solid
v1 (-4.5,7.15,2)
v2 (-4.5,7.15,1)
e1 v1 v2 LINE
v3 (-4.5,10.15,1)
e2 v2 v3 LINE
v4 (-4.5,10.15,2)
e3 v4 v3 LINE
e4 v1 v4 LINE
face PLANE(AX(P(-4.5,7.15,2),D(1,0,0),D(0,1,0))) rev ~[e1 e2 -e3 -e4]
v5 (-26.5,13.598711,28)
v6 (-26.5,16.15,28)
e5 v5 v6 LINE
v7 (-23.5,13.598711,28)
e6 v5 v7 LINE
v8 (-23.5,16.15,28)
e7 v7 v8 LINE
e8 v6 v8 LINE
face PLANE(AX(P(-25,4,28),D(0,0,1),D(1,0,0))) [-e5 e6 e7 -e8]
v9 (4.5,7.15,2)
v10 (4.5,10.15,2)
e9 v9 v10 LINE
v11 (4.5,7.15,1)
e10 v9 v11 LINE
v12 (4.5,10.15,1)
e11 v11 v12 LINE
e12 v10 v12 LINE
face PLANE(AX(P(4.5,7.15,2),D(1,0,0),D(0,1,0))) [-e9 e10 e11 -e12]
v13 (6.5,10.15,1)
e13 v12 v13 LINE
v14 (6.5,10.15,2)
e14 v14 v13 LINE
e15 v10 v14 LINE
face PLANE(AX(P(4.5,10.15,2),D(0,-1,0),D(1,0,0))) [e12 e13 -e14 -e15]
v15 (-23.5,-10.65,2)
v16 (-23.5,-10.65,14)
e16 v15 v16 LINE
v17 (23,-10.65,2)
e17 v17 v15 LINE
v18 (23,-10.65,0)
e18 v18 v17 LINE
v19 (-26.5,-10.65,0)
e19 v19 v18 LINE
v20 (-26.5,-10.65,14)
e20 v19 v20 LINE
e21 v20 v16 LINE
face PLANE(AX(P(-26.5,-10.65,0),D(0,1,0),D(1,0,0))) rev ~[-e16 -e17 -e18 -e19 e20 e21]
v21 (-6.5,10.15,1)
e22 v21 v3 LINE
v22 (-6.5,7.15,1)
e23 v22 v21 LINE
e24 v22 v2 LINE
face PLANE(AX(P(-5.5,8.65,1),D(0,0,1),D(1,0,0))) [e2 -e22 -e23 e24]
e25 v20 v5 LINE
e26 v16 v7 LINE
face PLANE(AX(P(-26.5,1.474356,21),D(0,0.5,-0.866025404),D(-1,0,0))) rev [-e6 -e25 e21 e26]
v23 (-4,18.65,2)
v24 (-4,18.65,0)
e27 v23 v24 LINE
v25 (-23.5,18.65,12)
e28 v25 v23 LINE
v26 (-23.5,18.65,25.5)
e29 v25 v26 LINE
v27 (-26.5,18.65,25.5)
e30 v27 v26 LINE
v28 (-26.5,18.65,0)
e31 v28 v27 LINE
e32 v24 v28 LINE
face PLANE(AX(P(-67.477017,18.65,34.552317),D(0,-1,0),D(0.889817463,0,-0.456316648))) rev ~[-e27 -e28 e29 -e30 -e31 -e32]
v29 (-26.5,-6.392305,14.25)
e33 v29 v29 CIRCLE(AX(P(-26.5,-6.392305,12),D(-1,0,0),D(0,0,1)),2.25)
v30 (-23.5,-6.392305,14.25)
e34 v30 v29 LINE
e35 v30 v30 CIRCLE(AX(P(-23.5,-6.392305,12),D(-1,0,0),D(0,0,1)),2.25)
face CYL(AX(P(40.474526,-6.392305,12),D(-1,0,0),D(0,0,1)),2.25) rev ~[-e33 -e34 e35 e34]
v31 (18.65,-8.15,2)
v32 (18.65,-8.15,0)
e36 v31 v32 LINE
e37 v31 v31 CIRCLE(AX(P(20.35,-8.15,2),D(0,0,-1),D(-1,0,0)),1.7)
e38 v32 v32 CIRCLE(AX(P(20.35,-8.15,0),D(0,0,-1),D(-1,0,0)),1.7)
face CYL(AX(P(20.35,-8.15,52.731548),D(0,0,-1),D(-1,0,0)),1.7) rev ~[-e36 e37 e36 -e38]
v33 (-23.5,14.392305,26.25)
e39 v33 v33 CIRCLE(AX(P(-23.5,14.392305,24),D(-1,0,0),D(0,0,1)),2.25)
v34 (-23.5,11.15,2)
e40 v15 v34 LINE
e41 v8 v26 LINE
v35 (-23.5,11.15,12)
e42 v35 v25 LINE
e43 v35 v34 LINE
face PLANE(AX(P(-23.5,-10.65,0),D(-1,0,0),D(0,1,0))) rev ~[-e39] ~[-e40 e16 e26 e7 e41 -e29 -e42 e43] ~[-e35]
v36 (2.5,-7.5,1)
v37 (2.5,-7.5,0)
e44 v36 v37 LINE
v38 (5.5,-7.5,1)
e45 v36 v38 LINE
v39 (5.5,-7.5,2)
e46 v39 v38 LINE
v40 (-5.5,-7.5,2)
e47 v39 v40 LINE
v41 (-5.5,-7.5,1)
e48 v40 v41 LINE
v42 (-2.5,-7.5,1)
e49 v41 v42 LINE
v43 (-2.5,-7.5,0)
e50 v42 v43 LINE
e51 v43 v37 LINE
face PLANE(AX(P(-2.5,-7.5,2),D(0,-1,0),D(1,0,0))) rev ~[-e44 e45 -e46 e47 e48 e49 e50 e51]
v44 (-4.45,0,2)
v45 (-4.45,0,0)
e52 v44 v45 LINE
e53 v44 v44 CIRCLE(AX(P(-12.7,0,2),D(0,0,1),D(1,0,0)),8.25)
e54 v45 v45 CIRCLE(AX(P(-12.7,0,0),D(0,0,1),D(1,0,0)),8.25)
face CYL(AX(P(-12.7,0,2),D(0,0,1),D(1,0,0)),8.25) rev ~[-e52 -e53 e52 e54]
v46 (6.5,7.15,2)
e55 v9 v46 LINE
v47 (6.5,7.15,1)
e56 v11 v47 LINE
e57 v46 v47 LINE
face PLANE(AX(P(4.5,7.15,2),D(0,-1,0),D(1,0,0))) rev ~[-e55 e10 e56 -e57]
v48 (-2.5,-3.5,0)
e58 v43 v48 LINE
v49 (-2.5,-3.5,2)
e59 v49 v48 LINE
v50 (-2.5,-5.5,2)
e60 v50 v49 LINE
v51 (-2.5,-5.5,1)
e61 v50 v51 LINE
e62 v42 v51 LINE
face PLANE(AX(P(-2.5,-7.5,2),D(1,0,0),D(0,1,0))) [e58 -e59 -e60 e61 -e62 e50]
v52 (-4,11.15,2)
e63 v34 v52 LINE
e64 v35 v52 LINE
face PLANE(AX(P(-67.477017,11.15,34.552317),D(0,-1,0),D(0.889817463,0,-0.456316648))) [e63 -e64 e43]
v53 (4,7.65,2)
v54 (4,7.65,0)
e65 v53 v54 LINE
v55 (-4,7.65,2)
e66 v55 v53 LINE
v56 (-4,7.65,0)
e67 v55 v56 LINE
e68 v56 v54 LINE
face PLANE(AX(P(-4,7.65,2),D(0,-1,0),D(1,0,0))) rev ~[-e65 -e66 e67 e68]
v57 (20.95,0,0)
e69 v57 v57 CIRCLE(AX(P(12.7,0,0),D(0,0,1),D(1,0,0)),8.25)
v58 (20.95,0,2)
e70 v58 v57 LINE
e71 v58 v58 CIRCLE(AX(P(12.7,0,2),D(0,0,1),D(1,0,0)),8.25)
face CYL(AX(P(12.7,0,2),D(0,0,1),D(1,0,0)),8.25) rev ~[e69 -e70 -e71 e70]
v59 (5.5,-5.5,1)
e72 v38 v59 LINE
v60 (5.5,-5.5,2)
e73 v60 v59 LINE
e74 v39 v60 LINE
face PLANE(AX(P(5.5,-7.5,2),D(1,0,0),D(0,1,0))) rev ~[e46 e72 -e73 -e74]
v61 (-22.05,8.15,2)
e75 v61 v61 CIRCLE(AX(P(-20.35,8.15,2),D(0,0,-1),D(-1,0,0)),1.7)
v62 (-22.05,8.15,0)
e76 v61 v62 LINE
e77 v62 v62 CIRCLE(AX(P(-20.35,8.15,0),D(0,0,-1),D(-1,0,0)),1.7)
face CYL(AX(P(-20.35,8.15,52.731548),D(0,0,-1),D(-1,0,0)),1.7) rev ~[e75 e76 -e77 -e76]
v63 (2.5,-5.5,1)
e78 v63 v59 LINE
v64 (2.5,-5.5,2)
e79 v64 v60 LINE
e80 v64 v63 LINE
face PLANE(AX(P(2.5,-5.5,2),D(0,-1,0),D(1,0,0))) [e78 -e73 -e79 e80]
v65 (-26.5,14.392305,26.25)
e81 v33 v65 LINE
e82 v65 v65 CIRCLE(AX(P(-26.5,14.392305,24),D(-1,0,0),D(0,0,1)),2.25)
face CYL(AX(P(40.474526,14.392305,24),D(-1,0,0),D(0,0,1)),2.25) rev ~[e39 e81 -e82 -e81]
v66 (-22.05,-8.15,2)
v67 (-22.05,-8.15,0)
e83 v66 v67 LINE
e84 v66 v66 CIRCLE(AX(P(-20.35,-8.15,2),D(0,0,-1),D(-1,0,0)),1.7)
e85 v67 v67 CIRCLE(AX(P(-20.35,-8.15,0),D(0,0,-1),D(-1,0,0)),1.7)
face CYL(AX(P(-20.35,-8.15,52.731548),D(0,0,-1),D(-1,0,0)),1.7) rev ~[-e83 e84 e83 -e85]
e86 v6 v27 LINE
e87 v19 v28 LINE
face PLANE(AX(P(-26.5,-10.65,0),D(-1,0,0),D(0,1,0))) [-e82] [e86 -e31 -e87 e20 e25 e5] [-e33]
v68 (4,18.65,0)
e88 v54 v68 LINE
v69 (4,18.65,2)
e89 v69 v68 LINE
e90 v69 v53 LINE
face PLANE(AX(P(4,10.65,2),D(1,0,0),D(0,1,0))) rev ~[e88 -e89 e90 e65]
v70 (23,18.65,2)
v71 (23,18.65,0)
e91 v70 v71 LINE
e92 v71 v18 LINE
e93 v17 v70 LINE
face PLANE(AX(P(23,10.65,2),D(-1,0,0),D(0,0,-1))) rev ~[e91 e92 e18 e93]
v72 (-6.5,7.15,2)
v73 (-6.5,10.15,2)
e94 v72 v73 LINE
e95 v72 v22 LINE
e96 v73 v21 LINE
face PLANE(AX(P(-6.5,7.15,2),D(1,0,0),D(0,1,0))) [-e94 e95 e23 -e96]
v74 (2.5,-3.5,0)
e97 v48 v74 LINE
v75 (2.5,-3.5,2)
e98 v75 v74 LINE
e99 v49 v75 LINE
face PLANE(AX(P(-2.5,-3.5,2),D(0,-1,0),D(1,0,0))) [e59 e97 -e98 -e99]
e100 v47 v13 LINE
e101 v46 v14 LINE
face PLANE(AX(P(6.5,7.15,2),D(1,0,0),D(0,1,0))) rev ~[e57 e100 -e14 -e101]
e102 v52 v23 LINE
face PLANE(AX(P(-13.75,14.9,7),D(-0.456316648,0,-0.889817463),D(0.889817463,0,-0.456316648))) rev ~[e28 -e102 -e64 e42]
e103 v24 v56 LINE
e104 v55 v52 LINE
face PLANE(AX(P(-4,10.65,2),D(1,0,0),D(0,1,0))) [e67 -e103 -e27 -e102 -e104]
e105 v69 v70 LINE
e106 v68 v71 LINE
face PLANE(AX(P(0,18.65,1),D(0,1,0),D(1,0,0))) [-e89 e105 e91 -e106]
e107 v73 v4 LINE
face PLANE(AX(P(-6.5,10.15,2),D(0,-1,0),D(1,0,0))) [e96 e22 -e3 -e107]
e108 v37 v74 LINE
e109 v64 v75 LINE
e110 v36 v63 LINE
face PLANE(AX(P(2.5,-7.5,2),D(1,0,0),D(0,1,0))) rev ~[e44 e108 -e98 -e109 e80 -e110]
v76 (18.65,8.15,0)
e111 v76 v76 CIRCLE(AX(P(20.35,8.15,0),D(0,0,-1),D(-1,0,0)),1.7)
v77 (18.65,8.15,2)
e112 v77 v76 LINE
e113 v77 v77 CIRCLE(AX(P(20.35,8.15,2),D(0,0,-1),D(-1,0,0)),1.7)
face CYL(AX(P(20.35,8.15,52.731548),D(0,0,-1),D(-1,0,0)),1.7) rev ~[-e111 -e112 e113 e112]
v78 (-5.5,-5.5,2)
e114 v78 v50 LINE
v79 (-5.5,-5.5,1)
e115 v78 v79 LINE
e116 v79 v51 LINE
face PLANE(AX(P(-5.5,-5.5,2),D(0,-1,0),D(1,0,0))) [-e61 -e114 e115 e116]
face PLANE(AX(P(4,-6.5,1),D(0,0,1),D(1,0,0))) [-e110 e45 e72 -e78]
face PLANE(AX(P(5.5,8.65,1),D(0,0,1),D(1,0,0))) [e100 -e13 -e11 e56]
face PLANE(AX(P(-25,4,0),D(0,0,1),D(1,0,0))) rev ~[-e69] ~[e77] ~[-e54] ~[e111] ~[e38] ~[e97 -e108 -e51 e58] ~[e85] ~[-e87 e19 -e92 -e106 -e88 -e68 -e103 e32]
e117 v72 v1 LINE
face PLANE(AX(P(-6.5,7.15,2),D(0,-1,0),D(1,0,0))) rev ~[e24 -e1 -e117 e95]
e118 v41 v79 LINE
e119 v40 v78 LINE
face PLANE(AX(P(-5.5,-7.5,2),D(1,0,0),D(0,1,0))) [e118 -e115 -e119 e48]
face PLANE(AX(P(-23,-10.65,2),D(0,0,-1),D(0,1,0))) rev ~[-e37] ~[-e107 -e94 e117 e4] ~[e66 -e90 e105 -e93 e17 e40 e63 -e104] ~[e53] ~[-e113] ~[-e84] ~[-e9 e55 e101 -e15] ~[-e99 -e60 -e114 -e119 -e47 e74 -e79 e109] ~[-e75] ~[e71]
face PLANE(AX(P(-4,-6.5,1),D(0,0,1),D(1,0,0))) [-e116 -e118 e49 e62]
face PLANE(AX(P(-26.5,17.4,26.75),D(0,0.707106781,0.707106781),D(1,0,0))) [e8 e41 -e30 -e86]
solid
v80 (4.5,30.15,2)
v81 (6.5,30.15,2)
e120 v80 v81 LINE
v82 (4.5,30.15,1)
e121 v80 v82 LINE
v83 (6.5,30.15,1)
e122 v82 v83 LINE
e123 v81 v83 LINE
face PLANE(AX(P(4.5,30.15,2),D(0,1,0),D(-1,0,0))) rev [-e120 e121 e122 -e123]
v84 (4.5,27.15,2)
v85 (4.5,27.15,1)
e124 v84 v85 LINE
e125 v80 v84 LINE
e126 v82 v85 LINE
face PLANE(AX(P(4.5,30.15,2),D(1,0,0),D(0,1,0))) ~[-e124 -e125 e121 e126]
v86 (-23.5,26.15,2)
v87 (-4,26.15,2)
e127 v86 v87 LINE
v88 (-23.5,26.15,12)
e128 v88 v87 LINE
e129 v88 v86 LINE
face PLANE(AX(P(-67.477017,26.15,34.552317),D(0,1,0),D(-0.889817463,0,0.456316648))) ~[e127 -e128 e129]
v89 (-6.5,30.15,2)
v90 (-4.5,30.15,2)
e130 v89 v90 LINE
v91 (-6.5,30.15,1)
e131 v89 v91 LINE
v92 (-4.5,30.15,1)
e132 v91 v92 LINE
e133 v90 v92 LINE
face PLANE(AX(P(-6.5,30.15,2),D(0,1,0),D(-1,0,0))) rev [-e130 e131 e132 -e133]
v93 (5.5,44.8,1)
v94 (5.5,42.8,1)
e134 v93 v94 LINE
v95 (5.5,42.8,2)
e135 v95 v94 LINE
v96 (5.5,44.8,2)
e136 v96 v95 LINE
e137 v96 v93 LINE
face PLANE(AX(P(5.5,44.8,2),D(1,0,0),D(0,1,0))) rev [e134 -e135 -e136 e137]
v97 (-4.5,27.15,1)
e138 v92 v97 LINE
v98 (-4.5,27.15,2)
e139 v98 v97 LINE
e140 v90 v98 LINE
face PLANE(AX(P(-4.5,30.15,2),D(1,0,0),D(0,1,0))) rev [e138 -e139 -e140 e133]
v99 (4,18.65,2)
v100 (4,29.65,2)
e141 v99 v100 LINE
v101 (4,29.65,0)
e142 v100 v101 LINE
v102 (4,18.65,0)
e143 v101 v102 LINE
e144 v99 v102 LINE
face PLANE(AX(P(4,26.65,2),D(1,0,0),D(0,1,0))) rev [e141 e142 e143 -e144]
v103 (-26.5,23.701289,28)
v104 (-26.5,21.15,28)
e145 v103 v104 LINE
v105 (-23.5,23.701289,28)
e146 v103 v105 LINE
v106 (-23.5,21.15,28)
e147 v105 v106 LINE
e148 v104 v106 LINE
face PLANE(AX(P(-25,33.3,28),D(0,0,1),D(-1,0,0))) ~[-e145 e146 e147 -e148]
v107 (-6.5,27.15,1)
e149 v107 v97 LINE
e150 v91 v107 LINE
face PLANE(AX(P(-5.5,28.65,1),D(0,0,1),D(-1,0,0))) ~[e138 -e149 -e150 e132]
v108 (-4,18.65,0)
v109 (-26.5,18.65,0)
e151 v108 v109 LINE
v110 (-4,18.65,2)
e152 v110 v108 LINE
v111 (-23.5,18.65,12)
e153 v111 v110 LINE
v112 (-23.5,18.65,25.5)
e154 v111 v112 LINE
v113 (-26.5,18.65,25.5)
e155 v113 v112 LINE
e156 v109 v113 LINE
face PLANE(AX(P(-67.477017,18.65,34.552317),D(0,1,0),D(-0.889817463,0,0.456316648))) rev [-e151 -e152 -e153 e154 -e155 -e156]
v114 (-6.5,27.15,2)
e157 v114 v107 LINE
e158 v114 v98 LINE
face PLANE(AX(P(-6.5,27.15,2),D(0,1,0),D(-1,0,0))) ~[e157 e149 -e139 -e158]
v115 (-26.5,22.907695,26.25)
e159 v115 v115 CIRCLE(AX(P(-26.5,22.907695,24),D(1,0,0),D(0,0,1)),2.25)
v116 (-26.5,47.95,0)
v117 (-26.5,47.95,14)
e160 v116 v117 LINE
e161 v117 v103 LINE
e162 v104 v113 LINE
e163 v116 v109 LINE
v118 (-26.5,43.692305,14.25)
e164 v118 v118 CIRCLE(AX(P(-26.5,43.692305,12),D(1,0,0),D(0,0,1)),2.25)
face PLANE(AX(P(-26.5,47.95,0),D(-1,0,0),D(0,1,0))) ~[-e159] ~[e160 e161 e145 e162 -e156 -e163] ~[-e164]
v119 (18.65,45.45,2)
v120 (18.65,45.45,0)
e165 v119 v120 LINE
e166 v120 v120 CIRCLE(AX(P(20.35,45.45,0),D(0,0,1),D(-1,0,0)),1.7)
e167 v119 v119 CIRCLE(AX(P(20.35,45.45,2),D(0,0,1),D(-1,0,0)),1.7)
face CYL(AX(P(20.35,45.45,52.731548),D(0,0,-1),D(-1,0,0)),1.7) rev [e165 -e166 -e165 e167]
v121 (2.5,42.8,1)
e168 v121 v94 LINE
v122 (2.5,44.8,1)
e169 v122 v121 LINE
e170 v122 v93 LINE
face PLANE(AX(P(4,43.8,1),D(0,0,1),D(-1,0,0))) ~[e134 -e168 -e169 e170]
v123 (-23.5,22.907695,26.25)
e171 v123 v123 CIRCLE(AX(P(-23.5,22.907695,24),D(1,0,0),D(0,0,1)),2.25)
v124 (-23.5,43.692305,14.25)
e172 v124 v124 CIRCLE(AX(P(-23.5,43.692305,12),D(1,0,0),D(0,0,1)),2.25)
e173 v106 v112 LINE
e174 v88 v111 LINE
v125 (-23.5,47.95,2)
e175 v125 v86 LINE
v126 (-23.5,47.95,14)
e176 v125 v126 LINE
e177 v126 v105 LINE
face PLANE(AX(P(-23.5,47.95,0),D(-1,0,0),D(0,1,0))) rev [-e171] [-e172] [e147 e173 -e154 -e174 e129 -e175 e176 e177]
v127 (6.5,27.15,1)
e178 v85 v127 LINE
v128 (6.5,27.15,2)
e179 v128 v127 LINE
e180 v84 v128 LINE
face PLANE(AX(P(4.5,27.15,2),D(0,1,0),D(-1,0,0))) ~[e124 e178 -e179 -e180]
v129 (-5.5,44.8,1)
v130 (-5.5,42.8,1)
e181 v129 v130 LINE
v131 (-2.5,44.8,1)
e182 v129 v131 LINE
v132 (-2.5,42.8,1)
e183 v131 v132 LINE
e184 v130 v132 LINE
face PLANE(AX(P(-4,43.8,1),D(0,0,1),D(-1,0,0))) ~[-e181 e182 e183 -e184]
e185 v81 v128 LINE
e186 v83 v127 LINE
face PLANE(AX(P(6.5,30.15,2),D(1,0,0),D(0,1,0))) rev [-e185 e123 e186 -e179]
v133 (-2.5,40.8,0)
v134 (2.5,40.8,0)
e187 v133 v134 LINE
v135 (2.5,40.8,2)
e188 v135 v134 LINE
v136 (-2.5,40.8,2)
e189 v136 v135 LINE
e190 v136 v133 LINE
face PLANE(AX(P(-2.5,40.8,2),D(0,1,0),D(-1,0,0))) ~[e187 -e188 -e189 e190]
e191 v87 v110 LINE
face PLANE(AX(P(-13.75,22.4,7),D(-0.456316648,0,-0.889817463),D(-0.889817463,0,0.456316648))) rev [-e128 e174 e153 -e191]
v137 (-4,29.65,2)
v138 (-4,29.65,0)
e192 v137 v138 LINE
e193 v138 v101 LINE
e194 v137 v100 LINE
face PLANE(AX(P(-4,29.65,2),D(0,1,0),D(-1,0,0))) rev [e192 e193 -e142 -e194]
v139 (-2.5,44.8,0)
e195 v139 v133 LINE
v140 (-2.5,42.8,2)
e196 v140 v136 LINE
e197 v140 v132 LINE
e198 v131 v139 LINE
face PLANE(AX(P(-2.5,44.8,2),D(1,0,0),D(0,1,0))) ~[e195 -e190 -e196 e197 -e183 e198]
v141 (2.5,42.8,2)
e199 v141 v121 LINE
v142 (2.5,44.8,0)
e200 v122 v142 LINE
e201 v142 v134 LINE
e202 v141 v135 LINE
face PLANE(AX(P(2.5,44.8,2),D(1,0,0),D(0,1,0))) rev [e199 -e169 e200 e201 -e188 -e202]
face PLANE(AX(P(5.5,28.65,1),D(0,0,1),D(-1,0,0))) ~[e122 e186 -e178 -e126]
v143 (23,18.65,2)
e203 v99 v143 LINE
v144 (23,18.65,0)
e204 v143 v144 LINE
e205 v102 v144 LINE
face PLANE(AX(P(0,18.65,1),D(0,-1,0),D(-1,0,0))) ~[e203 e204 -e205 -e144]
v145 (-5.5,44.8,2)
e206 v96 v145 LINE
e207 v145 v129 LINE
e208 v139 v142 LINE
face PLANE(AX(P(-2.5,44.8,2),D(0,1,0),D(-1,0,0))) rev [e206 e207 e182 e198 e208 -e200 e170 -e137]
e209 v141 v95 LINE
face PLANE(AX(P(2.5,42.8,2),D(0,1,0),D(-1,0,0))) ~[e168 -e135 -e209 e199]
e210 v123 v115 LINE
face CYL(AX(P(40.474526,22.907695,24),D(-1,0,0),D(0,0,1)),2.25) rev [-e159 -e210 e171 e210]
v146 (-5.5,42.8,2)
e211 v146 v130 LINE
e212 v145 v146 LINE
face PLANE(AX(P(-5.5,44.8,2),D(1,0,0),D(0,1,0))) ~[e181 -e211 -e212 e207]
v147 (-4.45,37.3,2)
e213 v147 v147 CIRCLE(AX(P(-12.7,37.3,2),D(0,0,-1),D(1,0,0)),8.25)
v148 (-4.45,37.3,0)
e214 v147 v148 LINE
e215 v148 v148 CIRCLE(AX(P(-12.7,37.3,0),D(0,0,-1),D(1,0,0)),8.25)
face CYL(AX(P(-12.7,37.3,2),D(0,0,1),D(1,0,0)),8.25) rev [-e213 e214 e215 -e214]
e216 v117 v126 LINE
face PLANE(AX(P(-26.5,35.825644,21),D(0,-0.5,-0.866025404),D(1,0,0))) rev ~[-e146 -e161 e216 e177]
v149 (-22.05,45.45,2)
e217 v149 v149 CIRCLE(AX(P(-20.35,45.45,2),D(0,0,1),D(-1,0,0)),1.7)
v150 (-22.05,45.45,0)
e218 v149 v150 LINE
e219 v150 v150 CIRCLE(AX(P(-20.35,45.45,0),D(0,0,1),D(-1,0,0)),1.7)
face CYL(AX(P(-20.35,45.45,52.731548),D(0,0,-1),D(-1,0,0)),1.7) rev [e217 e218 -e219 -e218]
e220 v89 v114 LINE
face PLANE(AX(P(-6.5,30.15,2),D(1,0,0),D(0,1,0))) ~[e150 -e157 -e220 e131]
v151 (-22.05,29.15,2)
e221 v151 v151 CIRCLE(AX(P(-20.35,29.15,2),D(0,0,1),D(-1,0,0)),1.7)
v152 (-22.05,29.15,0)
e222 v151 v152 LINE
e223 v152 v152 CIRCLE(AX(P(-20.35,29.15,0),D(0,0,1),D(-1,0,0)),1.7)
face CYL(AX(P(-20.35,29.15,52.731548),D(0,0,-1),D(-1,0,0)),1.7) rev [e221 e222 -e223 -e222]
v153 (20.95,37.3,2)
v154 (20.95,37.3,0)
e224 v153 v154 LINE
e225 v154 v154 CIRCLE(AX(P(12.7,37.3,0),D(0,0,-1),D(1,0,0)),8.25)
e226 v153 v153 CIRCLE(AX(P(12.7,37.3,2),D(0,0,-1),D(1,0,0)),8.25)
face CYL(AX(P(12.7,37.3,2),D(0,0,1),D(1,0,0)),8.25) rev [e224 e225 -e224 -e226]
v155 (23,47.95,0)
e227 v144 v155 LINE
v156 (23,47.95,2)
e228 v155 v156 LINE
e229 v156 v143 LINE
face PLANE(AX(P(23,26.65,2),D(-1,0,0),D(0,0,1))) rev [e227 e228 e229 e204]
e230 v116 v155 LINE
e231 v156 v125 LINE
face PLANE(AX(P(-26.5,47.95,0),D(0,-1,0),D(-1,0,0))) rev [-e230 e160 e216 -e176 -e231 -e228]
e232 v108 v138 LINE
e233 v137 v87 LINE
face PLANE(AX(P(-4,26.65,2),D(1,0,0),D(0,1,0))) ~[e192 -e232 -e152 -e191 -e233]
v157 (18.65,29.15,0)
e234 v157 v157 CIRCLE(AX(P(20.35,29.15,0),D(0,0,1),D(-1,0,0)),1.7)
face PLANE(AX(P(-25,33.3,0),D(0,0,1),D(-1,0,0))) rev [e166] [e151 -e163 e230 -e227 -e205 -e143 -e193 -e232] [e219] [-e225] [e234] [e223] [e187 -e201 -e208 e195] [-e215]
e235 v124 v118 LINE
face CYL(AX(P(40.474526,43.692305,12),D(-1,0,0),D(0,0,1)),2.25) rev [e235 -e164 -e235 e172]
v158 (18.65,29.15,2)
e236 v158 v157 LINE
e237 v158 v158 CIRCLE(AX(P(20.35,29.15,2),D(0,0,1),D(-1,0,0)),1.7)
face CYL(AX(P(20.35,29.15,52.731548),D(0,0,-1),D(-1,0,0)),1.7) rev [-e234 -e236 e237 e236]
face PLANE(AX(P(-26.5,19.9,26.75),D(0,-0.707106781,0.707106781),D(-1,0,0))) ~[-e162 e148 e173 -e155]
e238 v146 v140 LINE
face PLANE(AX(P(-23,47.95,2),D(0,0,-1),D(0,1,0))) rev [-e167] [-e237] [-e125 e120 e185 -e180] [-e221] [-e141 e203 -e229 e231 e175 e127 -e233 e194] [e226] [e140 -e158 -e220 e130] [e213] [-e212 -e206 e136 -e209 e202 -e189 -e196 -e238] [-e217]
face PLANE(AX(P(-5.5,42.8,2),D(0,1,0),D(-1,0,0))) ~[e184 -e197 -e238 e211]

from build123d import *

# Parameters (mm, degrees)
SKETCH_1_W          = 46
SKETCH_1_H          = 21.3
EXTRUDE_1_DEPTH     = 2
SKETCH_2_R          = 8.25
CUT_EXTRUDE_1_DEPTH = 26.424840216
SKETCH_3_W          = 8
SKETCH_3_H          = 3
CUT_EXTRUDE_2_DEPTH = 26.424840216
SKETCH_4_W          = 5
SKETCH_4_H          = 4
CUT_EXTRUDE_3_DEPTH = 26.424840216
SKETCH_5_W          = 3
SKETCH_5_H          = 2
SKETCH_5_W_2        = 2
SKETCH_5_H_2        = 3
CUT_EXTRUDE_4_DEPTH = 1
HOLE_WIZARD_M3_1_D  = 3.4
SKETCH_9_W          = 46
SKETCH_9_H          = 2
EXTRUDE_3_DEPTH     = 8
SKETCH_10_W         = 8
SKETCH_10_H         = 8
CUT_EXTRUDE_5_DEPTH = 30.678653945
SKETCH_11_W         = 2
SKETCH_11_H         = 29.3
EXTRUDE_4_DEPTH     = 0.5
SKETCH_12_W         = 3
SKETCH_12_H         = 29.3
EXTRUDE_5_DEPTH     = 28
HOLE_WIZARD_M4_1_D  = 4.5
CHAMFER_1_SIZE      = 14
CHAMFER_1_SIZE2     = 24.248711306
CHAMFER_2_SIZE      = 2.5
RIB_1_REACH         = 50.423
SKETCH_16_WALL_W    = 120.75963785
SKETCH_16_WALL_H    = 7.5


with BuildPart() as part:
    # 草圖1 → 填料-伸長1 (new body)
    with BuildSketch(Plane.XY):
        Rectangle(SKETCH_1_W, SKETCH_1_H)
    extrude(amount=EXTRUDE_1_DEPTH)

    # 草圖2 → 除料-伸長1 (cut, through all)
    with BuildSketch(Plane.XY.offset(2)):
        with Locations((-12.7, 0)):
            Circle(SKETCH_2_R)
        with Locations((12.7, 0)):
            Circle(SKETCH_2_R)
    extrude(amount=-CUT_EXTRUDE_1_DEPTH, mode=Mode.SUBTRACT)

    # 草圖3 → 除料-伸長2 (cut, through all)
    with BuildSketch(Plane.XY.offset(2)):
        with Locations((0, 9.15)):
            Rectangle(SKETCH_3_W, SKETCH_3_H)
    extrude(amount=-CUT_EXTRUDE_2_DEPTH, mode=Mode.SUBTRACT)

    # 草圖4 → 除料-伸長3 (cut, through all)
    with BuildSketch(Plane.XY.offset(2)):
        with Locations((0, -5.5)):
            Rectangle(SKETCH_4_W, SKETCH_4_H)
    extrude(amount=-CUT_EXTRUDE_3_DEPTH, mode=Mode.SUBTRACT)

    # 草圖5 → 除料-伸長4 (cut)
    with BuildSketch(Plane.XY.offset(2)):
        with Locations((4, -6.5)):
            Rectangle(SKETCH_5_W, SKETCH_5_H)
        with Locations((-5.5, 8.65)):
            Rectangle(SKETCH_5_W_2, SKETCH_5_H_2)
        with Locations((5.5, 8.65)):
            Rectangle(SKETCH_5_W_2, SKETCH_5_H_2)
        with Locations((-4, -6.5)):
            Rectangle(SKETCH_5_W, SKETCH_5_H)
    extrude(amount=-CUT_EXTRUDE_4_DEPTH, mode=Mode.SUBTRACT)

    # M3 餘隙孔1 (through all)
    with Locations(Plane.XY.offset(2)):
        with Locations((20.35, 8.15), (-20.35, -8.15), (-20.35, 8.15), (20.35, -8.15)):
            Hole(HOLE_WIZARD_M3_1_D / 2)

    # 草圖9 → 填料-伸長3 (add)
    with BuildSketch(Plane(origin=(0, 10.65, 0), x_dir=(1, 0, 0), z_dir=(0, 1, 0))):
        with Locations((0, -1)):
            Rectangle(SKETCH_9_W, SKETCH_9_H)
    extrude(amount=EXTRUDE_3_DEPTH)

    # 草圖10 → 除料-伸長5 (cut, through all)
    with BuildSketch(Plane.XY.offset(2)):
        with Locations((0, 14.65)):
            Rectangle(SKETCH_10_W, SKETCH_10_H)
    extrude(amount=-CUT_EXTRUDE_5_DEPTH, mode=Mode.SUBTRACT)

    # 草圖11 → 填料-伸長4 (add)
    with BuildSketch(Plane.ZY.offset(23)):
        with Locations((1, 4)):
            Rectangle(SKETCH_11_W, SKETCH_11_H)
    extrude(amount=EXTRUDE_4_DEPTH)

    # 草圖12 → 填料-伸長5 (add)
    with BuildSketch(Plane.XY):
        with Locations((-25, 4)):
            Rectangle(SKETCH_12_W, SKETCH_12_H)
    extrude(amount=EXTRUDE_5_DEPTH)

    # M4 餘隙孔1 (through all)
    with Locations(Plane(origin=(-23.5, 0, 0), x_dir=(0, 0, -1), z_dir=(1, 0, 0))):
        with Locations((-24, 14.392304845), (-12, -6.392304845)):
            Hole(HOLE_WIZARD_M4_1_D / 2)

    # 導角1
    chamfer_1_edges = [part.edges().sort_by_distance(p)[0] for p in [
        (-25, -10.65, 28),
    ]]
    chamfer_1_side = [part.faces().sort_by_distance(p)[0] for p in [
        (22.431295331, -10.65, 1),
    ]]
    chamfer(chamfer_1_edges, length=CHAMFER_1_SIZE, length2=CHAMFER_1_SIZE2, reference=chamfer_1_side[0])

    # 導角2
    chamfer_2_edges = [part.edges().sort_by_distance(p)[0] for p in [
        (-25, 18.65, 28),
    ]]
    chamfer(chamfer_2_edges, length=CHAMFER_2_SIZE)

    # 草圖16 wall → 肋材1 (add, up to next)
    with BuildSketch(Plane(origin=(-13.75, 18.65, 7), x_dir=(0.889817462813, 0, -0.456316647596), z_dir=(-0.456316647596, 0, -0.889817462813)), mode=Mode.PRIVATE) as rib_1_sk1:
        with Locations((0, 3.75)):
            Rectangle(SKETCH_16_WALL_W, SKETCH_16_WALL_H)
    rib_1_tool1 = extrude(rib_1_sk1.sketch, amount=RIB_1_REACH, mode=Mode.PRIVATE) - part.part
    add(rib_1_tool1.solids().sort_by_distance((-13.75, 18.65, 7))[0])


with BuildPart() as body_2:
    # 鏡射1: mirrored copy
    add(part.part.mirror(Plane.ZX.offset(18.65)))


solid = Compound([part.part, body_2.part])
